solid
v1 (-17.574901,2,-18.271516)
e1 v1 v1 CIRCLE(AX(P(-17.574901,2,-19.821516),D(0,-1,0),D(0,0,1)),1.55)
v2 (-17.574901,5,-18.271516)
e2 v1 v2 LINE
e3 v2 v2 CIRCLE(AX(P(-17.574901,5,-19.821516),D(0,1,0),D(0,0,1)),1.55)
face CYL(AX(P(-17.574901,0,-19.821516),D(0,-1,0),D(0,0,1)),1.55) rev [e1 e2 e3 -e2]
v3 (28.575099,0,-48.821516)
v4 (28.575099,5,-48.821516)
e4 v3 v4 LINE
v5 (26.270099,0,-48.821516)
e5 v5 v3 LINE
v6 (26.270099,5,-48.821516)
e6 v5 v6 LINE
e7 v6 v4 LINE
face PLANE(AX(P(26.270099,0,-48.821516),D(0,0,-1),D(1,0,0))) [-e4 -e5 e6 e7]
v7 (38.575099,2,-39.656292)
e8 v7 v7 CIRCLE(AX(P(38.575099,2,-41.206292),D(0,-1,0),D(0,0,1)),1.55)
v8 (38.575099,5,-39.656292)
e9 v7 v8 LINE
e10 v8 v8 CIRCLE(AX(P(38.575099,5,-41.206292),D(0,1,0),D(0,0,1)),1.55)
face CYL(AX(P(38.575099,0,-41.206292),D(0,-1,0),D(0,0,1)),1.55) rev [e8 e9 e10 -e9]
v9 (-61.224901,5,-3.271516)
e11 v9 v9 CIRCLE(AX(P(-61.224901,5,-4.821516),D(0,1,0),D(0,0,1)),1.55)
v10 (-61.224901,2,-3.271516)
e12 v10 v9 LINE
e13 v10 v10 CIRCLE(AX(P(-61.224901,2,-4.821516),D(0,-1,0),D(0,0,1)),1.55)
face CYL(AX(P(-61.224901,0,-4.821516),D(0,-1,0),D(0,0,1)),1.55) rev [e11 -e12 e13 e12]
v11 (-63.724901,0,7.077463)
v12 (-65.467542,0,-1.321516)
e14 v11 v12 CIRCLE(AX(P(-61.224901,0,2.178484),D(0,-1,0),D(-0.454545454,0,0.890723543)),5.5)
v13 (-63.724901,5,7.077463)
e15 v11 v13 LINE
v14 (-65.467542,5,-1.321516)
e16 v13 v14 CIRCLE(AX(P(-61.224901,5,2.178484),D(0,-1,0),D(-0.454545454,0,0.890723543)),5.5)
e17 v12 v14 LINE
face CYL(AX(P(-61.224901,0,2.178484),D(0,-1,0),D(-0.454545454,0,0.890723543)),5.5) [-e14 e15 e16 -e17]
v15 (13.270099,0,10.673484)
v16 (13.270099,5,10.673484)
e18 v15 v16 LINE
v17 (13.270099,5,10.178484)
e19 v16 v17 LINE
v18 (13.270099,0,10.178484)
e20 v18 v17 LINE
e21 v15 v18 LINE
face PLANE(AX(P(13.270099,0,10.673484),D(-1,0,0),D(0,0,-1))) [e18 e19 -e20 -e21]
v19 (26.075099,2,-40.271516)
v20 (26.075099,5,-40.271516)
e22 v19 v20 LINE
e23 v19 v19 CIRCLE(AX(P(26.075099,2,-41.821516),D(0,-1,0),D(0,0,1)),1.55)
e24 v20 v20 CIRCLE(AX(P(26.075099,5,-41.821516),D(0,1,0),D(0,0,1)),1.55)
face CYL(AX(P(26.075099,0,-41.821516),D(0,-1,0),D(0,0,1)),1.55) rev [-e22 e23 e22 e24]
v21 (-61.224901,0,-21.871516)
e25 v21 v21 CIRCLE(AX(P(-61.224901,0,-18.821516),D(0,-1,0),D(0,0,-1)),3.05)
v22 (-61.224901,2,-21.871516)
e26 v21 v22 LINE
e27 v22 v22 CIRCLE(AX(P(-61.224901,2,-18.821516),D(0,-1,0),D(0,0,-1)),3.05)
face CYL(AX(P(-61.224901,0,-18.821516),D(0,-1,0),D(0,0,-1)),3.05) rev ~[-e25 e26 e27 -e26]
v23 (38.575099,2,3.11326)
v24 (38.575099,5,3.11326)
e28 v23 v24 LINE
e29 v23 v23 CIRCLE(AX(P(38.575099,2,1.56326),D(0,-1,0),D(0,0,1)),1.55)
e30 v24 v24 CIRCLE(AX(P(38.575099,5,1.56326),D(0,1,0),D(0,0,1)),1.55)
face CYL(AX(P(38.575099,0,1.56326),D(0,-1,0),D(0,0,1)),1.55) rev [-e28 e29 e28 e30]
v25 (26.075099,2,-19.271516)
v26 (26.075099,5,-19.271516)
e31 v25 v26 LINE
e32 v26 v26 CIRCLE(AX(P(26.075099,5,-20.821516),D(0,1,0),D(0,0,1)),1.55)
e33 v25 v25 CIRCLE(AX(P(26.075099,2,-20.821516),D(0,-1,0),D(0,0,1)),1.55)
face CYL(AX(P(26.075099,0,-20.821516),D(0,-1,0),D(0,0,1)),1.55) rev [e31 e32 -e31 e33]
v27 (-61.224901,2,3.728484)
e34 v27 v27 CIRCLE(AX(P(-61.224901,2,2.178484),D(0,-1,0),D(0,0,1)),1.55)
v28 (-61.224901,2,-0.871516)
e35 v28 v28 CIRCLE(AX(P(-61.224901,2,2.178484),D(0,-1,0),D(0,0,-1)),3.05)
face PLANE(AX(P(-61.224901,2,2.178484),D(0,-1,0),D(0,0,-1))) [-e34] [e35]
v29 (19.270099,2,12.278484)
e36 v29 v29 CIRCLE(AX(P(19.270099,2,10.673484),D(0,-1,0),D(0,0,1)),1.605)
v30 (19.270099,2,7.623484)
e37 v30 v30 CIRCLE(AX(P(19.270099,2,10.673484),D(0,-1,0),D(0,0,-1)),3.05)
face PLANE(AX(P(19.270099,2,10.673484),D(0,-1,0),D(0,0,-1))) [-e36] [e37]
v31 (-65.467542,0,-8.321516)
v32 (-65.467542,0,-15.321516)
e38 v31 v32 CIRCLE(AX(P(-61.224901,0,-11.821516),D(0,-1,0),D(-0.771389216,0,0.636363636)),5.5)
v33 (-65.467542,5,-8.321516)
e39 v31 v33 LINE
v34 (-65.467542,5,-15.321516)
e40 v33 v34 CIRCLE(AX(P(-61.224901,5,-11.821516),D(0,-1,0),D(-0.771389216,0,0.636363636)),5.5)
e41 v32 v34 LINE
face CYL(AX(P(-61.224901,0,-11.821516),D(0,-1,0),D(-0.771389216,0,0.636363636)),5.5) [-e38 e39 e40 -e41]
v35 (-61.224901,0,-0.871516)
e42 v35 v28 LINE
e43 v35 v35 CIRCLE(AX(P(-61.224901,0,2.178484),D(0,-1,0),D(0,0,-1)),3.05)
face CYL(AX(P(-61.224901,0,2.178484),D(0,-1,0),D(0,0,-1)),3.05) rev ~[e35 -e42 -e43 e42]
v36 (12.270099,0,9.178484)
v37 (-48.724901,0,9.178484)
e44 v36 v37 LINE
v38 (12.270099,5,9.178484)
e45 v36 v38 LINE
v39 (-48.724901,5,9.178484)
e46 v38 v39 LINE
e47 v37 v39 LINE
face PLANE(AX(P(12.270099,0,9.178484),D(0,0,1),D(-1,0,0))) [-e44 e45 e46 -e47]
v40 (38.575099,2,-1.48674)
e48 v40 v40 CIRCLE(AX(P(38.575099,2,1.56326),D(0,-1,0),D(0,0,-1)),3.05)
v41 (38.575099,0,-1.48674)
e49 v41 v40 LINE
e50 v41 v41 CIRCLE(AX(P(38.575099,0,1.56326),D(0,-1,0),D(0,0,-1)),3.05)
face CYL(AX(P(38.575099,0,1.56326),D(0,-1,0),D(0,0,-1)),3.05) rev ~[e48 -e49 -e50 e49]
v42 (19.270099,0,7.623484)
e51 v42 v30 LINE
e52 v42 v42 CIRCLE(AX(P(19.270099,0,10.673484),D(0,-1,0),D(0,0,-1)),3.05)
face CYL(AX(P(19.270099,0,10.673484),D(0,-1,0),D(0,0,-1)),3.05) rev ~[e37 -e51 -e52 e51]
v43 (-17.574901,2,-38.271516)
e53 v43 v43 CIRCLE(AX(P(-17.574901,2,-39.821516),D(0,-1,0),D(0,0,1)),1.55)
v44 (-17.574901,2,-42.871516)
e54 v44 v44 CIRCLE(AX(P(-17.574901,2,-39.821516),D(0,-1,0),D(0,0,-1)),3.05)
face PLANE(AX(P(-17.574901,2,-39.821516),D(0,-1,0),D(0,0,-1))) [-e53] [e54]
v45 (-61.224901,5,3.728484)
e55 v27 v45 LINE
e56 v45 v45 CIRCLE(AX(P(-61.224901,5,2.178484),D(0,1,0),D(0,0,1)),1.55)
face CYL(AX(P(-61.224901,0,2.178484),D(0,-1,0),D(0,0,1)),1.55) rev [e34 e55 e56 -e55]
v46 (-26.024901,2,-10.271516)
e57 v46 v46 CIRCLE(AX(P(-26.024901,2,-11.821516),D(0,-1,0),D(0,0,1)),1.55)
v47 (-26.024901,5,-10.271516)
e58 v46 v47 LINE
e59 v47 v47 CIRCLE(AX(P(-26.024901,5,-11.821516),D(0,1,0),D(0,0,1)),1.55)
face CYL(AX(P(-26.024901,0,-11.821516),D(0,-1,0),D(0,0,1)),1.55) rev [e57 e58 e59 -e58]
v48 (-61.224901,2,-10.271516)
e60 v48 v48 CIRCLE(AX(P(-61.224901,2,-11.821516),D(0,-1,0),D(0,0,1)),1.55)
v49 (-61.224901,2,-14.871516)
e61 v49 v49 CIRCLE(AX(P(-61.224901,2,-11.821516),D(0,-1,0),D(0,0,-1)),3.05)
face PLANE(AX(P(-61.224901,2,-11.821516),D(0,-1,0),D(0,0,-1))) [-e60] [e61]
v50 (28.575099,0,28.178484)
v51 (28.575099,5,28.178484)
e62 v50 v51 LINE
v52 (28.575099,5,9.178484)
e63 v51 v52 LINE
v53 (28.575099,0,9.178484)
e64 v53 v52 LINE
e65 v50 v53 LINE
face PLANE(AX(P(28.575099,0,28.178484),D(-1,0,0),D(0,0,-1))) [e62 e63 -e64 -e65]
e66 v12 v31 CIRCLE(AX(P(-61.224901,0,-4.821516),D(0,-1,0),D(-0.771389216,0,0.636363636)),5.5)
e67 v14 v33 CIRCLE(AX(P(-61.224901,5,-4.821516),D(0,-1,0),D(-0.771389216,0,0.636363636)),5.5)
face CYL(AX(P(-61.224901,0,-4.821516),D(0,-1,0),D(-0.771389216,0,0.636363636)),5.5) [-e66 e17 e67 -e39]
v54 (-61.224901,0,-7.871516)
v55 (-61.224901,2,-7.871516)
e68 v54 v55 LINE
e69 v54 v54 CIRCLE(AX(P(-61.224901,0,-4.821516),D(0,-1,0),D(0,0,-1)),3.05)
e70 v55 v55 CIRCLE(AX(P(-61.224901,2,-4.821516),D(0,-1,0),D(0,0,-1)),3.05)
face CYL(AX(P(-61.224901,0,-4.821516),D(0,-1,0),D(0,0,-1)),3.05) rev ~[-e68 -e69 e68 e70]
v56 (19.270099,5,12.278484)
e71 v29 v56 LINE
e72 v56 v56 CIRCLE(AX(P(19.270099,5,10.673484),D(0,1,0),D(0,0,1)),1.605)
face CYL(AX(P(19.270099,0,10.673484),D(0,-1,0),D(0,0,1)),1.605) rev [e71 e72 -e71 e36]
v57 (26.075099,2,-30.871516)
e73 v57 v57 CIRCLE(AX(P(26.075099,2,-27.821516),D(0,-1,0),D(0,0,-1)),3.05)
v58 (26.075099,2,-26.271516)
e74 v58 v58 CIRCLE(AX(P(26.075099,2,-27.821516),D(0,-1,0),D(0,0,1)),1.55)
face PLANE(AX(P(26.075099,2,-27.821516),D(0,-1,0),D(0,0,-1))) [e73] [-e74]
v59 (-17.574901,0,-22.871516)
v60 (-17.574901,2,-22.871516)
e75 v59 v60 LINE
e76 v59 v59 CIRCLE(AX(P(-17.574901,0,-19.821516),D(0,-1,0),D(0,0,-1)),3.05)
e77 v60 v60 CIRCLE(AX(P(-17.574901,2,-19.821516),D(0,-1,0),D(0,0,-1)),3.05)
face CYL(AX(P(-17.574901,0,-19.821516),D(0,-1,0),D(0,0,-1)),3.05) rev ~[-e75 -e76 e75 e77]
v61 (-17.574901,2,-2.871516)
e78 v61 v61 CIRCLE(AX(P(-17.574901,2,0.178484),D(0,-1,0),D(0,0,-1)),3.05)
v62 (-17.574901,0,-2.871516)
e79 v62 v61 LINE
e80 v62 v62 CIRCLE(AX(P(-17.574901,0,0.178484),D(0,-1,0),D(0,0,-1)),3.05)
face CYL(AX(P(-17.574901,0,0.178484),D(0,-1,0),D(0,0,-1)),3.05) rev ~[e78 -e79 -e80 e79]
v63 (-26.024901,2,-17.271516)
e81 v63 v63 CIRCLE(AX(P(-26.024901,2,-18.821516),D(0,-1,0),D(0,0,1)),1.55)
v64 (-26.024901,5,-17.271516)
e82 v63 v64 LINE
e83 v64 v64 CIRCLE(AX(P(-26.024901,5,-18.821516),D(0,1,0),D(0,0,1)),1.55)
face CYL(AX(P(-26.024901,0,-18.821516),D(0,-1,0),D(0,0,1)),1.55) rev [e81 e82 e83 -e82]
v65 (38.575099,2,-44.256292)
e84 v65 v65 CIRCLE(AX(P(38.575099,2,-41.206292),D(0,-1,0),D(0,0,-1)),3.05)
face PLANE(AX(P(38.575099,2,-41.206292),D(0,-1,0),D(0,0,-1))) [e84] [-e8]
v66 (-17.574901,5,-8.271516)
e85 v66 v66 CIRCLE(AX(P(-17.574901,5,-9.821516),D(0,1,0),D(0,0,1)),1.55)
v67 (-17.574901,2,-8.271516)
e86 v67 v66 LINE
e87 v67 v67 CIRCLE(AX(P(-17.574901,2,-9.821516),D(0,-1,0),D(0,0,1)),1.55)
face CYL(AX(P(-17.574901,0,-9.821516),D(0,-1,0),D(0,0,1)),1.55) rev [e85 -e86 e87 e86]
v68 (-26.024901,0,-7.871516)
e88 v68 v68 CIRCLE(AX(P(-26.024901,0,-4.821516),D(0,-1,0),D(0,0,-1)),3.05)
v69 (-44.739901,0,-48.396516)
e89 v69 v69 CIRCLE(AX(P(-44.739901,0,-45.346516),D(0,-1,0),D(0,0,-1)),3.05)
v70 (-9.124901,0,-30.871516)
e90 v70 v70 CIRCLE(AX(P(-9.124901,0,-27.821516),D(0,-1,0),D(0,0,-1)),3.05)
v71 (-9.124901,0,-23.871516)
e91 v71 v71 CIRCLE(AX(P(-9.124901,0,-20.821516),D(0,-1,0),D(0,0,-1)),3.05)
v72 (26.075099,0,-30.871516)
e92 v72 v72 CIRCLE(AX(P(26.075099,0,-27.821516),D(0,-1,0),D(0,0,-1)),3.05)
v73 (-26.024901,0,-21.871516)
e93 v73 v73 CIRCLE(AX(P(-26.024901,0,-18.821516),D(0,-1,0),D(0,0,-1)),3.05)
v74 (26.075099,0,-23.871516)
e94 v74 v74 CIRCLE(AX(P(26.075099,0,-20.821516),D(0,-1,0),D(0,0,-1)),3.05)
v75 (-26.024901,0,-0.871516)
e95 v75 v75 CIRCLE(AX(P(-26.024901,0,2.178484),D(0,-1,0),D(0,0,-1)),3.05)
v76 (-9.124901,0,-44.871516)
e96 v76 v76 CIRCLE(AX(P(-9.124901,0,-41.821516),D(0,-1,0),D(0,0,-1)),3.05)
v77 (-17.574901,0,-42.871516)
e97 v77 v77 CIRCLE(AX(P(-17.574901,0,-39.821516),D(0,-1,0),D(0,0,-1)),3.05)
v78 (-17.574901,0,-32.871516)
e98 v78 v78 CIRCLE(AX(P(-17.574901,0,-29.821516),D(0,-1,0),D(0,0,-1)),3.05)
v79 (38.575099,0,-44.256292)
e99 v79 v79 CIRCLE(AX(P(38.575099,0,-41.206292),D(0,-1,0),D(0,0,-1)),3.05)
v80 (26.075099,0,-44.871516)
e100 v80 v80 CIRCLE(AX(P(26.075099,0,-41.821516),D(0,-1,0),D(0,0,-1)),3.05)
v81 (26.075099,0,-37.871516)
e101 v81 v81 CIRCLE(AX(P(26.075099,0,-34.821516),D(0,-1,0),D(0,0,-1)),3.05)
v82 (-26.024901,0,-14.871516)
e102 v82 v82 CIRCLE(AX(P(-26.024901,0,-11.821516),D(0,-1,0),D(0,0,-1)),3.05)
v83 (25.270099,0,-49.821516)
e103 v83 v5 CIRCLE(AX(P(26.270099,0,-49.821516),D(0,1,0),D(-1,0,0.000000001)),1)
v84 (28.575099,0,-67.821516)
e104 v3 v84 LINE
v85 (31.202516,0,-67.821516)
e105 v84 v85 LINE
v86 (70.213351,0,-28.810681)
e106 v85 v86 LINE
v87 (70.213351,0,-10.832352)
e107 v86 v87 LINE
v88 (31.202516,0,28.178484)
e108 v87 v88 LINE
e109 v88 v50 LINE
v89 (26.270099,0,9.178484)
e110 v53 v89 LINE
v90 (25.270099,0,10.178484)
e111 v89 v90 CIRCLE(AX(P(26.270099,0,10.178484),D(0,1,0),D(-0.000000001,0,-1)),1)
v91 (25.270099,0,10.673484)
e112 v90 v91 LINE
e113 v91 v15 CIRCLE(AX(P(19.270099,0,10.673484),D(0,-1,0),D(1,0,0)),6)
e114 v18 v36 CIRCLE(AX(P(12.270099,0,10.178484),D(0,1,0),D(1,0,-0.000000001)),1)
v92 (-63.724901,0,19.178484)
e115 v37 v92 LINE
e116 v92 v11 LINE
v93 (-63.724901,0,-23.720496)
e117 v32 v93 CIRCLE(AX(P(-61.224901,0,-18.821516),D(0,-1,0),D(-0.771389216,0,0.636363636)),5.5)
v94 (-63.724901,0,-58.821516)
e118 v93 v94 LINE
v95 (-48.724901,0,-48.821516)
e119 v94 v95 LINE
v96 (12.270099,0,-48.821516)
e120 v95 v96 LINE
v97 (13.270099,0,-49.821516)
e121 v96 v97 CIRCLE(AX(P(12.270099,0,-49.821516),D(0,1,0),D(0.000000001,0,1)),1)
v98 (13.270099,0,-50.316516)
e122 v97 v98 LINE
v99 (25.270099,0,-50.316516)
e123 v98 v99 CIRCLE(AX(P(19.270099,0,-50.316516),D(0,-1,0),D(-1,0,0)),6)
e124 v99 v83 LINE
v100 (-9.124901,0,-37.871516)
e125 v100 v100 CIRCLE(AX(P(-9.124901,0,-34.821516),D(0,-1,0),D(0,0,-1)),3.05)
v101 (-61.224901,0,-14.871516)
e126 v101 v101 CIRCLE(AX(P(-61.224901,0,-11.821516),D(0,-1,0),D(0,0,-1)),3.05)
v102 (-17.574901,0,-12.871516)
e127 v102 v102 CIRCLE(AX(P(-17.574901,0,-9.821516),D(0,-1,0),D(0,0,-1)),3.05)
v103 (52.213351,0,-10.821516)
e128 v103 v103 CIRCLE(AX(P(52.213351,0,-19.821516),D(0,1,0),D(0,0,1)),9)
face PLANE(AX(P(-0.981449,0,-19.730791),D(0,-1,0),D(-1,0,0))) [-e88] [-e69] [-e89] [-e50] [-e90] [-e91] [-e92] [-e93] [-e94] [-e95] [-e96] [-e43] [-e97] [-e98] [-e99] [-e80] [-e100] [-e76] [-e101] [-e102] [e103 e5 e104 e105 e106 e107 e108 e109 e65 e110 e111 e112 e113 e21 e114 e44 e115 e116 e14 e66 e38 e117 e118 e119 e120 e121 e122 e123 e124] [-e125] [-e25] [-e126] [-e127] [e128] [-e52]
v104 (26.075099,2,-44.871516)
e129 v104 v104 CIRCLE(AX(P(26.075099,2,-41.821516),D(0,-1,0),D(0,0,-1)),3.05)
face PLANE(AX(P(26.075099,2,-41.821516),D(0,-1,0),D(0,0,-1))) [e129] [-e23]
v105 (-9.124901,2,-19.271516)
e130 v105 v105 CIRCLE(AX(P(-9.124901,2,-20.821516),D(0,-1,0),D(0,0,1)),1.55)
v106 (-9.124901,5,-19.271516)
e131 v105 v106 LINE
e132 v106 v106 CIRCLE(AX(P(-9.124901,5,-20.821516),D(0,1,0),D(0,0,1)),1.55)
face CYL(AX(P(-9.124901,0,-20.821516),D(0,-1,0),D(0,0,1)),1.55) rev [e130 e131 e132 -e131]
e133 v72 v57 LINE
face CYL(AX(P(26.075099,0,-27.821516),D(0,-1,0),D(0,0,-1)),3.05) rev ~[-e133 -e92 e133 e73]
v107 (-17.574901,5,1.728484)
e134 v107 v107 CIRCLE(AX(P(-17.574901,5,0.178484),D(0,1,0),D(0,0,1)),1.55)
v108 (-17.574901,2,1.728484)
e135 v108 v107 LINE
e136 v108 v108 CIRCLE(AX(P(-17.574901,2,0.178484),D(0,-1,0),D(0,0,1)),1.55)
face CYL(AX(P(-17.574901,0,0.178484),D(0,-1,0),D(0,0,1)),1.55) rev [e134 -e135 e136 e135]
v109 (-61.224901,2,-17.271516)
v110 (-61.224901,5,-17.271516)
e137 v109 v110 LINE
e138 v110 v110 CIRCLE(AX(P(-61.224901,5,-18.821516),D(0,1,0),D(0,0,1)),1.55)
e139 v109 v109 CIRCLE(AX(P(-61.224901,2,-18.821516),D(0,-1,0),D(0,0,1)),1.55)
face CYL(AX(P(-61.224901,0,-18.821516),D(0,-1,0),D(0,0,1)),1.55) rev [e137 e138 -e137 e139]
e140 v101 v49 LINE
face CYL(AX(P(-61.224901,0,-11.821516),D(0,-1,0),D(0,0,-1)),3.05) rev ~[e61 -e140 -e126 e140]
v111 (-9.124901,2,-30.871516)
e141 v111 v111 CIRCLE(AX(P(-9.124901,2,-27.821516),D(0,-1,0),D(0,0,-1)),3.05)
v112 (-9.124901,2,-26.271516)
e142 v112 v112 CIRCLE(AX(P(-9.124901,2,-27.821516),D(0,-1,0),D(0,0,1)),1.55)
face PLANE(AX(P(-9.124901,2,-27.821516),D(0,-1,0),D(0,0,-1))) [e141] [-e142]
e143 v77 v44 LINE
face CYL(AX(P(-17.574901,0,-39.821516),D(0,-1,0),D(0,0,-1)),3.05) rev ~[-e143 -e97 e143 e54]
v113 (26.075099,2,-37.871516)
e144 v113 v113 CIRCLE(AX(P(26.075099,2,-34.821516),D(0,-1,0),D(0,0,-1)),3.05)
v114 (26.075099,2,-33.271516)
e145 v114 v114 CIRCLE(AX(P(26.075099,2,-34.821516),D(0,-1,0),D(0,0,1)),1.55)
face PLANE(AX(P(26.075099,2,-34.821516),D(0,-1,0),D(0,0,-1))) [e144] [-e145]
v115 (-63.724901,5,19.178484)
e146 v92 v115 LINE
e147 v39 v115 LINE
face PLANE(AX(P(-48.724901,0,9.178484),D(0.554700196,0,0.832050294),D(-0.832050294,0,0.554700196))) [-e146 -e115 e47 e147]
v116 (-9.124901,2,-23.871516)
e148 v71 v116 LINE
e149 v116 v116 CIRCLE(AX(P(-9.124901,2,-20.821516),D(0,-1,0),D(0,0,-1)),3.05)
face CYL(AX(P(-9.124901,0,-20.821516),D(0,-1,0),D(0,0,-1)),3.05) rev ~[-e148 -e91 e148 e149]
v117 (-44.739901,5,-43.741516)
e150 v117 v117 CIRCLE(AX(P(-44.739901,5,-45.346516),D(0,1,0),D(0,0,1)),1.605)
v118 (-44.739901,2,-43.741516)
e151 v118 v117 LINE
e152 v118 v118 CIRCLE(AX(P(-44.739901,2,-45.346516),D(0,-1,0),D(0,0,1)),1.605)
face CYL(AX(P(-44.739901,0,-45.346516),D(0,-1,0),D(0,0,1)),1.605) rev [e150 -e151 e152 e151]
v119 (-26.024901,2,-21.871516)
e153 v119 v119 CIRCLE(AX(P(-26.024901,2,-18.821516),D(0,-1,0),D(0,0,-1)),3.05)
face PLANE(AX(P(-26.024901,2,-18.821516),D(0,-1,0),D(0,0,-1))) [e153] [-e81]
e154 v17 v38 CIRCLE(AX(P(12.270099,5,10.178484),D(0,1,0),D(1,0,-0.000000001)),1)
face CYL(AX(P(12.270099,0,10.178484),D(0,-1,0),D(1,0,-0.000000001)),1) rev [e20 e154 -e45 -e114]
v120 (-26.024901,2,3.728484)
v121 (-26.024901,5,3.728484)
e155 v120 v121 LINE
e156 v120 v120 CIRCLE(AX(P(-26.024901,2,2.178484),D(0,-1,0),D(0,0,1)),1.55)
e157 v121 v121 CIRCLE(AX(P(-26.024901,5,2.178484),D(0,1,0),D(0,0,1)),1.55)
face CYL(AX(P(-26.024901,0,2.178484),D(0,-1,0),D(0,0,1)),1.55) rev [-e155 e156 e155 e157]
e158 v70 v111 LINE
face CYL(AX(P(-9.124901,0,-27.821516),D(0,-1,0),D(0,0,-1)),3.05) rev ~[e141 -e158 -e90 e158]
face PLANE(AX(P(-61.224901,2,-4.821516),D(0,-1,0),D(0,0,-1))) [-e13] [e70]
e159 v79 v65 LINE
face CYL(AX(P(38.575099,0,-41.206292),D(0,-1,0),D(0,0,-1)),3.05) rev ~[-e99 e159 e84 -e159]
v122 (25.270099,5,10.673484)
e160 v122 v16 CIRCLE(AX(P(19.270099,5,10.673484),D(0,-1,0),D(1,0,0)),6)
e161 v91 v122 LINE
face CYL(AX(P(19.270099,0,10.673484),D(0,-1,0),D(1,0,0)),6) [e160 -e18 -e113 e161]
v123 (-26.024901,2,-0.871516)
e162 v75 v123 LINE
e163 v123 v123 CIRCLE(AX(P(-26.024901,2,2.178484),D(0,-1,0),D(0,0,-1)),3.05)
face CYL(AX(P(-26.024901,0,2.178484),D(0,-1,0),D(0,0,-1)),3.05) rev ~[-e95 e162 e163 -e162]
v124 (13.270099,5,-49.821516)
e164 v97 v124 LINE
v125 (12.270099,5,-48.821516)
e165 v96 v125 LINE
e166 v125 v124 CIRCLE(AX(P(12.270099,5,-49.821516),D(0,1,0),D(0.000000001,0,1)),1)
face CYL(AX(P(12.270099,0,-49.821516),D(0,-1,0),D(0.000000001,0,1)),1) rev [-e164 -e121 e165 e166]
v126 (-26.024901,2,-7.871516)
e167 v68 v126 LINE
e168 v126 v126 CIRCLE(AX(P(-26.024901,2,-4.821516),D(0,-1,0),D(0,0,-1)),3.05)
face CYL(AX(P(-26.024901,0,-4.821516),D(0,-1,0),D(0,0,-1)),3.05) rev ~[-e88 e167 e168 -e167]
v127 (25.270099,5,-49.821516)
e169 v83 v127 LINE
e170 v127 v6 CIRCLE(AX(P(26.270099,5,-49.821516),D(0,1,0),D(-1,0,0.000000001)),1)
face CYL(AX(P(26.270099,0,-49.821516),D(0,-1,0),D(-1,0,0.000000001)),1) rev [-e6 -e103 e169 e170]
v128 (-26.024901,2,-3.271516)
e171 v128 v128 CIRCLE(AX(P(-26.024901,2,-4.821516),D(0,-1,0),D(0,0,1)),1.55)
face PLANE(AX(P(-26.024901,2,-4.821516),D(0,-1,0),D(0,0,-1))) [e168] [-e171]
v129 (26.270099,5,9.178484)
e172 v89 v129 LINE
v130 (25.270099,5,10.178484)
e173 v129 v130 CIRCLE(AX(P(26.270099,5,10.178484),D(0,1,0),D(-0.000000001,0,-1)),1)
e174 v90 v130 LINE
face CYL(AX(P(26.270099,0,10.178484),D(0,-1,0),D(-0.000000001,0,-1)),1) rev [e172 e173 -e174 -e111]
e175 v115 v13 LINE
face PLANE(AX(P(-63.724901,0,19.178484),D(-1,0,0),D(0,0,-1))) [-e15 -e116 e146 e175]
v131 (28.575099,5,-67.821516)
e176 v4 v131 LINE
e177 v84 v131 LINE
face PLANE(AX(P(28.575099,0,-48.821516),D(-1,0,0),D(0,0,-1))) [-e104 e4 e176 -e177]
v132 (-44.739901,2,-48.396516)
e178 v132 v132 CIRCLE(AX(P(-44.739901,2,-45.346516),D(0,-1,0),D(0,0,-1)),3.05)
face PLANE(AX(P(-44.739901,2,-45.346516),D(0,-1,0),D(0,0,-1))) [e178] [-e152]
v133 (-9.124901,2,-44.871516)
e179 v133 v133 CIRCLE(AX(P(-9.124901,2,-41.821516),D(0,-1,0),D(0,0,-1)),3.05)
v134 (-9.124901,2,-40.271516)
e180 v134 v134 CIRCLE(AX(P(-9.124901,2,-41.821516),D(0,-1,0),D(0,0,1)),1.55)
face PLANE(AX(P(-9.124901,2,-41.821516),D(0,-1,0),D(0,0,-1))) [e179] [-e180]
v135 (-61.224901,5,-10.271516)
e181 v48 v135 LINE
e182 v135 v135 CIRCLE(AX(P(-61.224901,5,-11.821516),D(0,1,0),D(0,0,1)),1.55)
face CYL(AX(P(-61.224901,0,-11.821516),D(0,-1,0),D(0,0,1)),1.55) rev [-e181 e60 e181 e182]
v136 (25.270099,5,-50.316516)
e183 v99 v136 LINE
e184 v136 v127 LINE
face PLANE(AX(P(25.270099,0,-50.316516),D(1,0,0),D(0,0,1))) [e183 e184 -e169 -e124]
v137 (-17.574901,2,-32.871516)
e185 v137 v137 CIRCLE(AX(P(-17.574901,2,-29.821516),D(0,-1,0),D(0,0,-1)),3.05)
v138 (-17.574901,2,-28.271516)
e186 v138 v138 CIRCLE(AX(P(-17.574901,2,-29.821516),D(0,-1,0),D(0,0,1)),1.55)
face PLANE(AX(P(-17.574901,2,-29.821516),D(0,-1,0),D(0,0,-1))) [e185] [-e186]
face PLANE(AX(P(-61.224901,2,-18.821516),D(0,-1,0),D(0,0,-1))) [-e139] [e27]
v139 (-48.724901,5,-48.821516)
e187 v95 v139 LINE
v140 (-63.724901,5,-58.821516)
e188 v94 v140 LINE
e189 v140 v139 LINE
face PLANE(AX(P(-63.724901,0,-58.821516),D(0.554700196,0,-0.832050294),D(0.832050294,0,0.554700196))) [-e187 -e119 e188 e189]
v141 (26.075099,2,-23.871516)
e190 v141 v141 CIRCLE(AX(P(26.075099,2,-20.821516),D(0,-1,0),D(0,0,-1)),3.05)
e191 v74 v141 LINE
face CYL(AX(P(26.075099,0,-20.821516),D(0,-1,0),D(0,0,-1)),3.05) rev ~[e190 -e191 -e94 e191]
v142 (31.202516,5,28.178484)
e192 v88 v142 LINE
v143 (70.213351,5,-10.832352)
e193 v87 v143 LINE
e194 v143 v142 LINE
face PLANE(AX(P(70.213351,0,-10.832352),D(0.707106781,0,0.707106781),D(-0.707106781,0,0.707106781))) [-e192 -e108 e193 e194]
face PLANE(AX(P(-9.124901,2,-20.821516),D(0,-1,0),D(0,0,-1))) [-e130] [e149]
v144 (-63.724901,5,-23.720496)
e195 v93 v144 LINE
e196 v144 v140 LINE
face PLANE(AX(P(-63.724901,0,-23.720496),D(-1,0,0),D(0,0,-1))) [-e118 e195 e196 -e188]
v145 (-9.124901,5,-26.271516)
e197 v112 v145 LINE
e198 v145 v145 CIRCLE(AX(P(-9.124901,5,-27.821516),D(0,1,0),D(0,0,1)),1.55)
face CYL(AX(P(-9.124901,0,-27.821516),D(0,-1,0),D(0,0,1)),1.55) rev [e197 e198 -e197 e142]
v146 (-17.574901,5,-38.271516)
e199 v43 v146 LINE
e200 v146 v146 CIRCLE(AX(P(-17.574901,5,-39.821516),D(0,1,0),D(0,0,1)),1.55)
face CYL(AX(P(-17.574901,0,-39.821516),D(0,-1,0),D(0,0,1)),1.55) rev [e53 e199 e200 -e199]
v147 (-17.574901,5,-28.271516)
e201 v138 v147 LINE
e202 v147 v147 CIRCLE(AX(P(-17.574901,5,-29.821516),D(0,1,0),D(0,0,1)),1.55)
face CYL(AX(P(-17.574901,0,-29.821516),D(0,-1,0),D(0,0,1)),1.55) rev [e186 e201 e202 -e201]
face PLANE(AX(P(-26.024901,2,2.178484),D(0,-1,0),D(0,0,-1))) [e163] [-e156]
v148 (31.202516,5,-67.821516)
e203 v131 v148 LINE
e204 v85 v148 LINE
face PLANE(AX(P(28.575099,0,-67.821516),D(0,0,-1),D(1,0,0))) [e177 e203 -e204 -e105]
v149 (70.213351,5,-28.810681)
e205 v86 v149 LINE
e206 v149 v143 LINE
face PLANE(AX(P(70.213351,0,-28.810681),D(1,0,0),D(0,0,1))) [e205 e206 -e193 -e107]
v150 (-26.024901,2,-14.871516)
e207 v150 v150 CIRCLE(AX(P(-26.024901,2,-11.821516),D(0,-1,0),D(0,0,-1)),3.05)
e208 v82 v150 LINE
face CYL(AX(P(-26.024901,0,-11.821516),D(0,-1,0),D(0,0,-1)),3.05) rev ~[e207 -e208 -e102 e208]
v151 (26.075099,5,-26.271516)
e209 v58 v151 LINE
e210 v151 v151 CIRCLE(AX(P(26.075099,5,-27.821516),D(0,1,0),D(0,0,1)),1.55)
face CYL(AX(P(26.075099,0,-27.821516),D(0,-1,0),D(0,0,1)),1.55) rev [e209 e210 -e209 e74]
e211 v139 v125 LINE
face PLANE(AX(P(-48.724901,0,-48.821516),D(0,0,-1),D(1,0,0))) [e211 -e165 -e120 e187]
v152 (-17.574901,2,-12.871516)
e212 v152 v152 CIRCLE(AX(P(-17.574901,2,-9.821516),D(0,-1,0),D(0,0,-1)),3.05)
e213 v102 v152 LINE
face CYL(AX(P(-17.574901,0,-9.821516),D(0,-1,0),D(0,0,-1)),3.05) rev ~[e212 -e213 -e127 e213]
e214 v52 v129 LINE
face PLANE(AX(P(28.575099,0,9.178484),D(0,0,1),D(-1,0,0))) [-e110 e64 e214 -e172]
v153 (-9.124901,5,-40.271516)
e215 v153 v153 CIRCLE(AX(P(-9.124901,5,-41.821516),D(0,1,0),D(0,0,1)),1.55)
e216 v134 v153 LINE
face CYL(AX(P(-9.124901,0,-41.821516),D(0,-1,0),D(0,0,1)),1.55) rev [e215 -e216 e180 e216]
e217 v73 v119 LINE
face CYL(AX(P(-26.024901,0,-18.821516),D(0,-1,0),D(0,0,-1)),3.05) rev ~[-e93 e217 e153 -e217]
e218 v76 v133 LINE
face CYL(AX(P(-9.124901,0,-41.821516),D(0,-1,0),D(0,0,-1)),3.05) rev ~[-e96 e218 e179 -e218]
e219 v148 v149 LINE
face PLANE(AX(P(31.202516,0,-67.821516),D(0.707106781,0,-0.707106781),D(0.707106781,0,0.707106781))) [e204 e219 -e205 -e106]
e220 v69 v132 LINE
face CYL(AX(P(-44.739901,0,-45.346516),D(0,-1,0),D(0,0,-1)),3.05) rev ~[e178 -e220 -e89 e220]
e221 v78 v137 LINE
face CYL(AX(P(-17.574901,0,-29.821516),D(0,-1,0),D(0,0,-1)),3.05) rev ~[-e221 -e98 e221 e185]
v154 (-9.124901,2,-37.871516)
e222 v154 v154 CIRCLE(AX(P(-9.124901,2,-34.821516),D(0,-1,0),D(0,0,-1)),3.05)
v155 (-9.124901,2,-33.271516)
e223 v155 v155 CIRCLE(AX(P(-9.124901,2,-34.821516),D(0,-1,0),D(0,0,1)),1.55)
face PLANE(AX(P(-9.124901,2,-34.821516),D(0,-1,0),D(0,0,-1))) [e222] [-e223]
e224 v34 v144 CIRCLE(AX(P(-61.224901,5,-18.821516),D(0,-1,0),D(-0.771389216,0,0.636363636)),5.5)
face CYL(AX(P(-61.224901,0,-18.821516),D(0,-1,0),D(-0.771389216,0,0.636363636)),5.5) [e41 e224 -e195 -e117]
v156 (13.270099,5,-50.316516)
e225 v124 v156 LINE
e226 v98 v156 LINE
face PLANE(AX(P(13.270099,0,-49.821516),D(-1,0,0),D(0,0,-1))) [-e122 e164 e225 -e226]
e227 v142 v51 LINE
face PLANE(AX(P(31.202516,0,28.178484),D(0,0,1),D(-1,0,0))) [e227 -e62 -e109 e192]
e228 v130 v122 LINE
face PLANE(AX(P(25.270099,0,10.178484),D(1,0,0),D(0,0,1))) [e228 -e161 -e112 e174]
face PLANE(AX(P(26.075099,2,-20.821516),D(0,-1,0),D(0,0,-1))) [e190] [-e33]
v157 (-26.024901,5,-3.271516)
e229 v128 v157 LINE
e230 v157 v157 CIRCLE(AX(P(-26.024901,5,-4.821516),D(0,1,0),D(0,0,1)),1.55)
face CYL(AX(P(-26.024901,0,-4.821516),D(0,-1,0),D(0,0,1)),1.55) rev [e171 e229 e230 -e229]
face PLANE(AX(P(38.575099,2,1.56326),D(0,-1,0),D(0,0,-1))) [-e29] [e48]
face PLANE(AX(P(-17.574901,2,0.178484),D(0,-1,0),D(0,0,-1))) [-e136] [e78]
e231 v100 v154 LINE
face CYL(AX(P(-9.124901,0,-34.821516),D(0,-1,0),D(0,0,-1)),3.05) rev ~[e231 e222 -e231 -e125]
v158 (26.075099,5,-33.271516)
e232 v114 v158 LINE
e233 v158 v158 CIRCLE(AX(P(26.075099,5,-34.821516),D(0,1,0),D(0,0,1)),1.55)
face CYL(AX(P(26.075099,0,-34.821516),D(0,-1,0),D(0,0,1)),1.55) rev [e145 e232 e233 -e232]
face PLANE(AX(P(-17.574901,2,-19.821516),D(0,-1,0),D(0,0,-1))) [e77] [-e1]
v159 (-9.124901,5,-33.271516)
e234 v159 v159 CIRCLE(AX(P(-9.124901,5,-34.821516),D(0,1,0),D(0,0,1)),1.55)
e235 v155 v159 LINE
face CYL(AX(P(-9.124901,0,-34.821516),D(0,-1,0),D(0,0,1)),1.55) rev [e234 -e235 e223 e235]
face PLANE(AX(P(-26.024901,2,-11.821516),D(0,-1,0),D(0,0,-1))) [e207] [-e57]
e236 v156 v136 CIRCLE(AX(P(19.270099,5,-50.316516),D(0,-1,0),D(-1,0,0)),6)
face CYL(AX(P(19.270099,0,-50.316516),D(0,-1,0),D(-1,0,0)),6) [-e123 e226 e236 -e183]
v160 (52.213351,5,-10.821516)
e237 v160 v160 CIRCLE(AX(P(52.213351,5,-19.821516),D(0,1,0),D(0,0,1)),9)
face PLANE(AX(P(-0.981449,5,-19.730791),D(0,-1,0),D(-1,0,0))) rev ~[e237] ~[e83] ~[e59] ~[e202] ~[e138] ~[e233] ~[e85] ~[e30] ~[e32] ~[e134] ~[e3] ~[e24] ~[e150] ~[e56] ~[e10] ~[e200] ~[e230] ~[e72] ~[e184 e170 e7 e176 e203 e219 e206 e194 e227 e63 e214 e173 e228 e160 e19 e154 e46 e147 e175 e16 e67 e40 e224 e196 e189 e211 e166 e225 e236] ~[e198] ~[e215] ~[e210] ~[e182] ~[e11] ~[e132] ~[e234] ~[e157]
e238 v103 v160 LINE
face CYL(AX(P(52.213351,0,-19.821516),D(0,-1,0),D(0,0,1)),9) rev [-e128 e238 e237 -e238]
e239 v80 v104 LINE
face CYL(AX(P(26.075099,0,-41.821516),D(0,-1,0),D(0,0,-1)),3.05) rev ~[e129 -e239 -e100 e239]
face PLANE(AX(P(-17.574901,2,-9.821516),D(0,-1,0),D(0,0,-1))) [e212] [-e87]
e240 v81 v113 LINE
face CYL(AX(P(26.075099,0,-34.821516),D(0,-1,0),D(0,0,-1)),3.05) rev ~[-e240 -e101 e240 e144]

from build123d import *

# Parameters (mm, degrees)
SKETCH1_R           = 1.55
SKETCH1_R_2         = 9
SKETCH1_R_3         = 1.605
BOSS_EXTRUDE1_DEPTH = 5
SKETCH3_R           = 3.05
CUT_EXTRUDE1_DEPTH  = 2


with BuildPart() as part:
    # Sketch1 → Boss-Extrude1 (new body)
    with BuildSketch(Plane(origin=(0, 0, 0), x_dir=(1, 0, 0), z_dir=(0, 1, 0))):
        with BuildLine():
            Line((28.57509878, 48.821516158), (28.57509878, 67.821516158))
            Line((28.57509878, 67.821516158), (31.202515778, 67.821516158))
            Line((31.202515778, 67.821516158), (70.213351221, 28.810680715))
            Line((70.213351221, 28.810680715), (70.213351221, 10.832351601))
            Line((70.213351221, 10.832351601), (31.202515778, -28.178483842))
            Line((31.202515778, -28.178483842), (28.57509878, -28.178483842))
            Line((28.57509878, -28.178483842), (28.57509878, -9.178483842))
            Line((28.57509878, -9.178483842), (26.27009878, -9.178483842))
            ThreePointArc((26.27009878, -9.178483842), (25.562991999, -9.471377061), (25.27009878, -10.178483842))
            Line((25.27009878, -10.178483842), (25.27009878, -10.673483842))
            ThreePointArc((25.27009878, -10.673483842), (19.27009878, -16.673483842), (13.27009878, -10.673483842))
            Line((13.27009878, -10.673483842), (13.27009878, -10.178483842))
            ThreePointArc((13.27009878, -10.178483842), (12.977205561, -9.471377061), (12.27009878, -9.178483842))
            Line((12.27009878, -9.178483842), (-48.72490122, -9.178483842))
            Line((-48.72490122, -9.178483842), (-63.72490122, -19.178483842))
            Line((-63.72490122, -19.178483842), (-63.72490122, -9.178483842))
            Line((-63.72490122, -9.178483842), (-63.72490122, -7.077463327))
            ThreePointArc((-63.72490122, -7.077463327), (-66.610206686, -3.295840115), (-65.467541907, 1.321516158))
            ThreePointArc((-65.467541907, 1.321516158), (-66.72490122, 4.821516158), (-65.467541907, 8.321516158))
            ThreePointArc((-65.467541907, 8.321516158), (-66.72490122, 11.821516158), (-65.467541907, 15.321516158))
            ThreePointArc((-65.467541907, 15.321516158), (-66.610206686, 19.938872432), (-63.72490122, 23.720495644))
            Line((-63.72490122, 23.720495644), (-63.72490122, 48.821516158))
            Line((-63.72490122, 48.821516158), (-63.72490122, 58.821516158))
            Line((-63.72490122, 58.821516158), (-48.72490122, 48.821516158))
            Line((-48.72490122, 48.821516158), (12.27009878, 48.821516158))
            ThreePointArc((12.27009878, 48.821516158), (12.977205561, 49.114409377), (13.27009878, 49.821516158))
            Line((13.27009878, 49.821516158), (13.27009878, 50.316516158))
            ThreePointArc((13.27009878, 50.316516158), (19.27009878, 56.316516158), (25.27009878, 50.316516158))
            Line((25.27009878, 50.316516158), (25.27009878, 49.821516158))
            ThreePointArc((25.27009878, 49.821516158), (25.562991999, 49.114409377), (26.27009878, 48.821516158))
            Line((26.27009878, 48.821516158), (28.57509878, 48.821516158))
        make_face()
        with Locations(Location((26.07509878, 20.821516158, 0), (0, 0, 270))):
            Circle(SKETCH1_R, mode=Mode.SUBTRACT)
        with Locations(Location((-9.12490122, 20.821516158, 0), (0, 0, 270))):
            Circle(SKETCH1_R, mode=Mode.SUBTRACT)
        with Locations(Location((-9.12490122, 27.821516158, 0), (0, 0, 270))):
            Circle(SKETCH1_R, mode=Mode.SUBTRACT)
        with Locations(Location((26.07509878, 27.821516158, 0), (0, 0, 270))):
            Circle(SKETCH1_R, mode=Mode.SUBTRACT)
        with Locations(Location((-9.12490122, 34.821516158, 0), (0, 0, 270))):
            Circle(SKETCH1_R, mode=Mode.SUBTRACT)
        with Locations(Location((26.07509878, 34.821516158, 0), (0, 0, 270))):
            Circle(SKETCH1_R, mode=Mode.SUBTRACT)
        with Locations(Location((-9.12490122, 41.821516158, 0), (0, 0, 270))):
            Circle(SKETCH1_R, mode=Mode.SUBTRACT)
        with Locations(Location((26.07509878, 41.821516158, 0), (0, 0, 270))):
            Circle(SKETCH1_R, mode=Mode.SUBTRACT)
        with Locations(Location((-26.02490122, -2.178483842, 0), (0, 0, 270))):
            Circle(SKETCH1_R, mode=Mode.SUBTRACT)
        with Locations(Location((-61.22490122, -2.178483842, 0), (0, 0, 270))):
            Circle(SKETCH1_R, mode=Mode.SUBTRACT)
        with Locations(Location((-26.02490122, 4.821516158, 0), (0, 0, 270))):
            Circle(SKETCH1_R, mode=Mode.SUBTRACT)
        with Locations(Location((-61.22490122, 4.821516158, 0), (0, 0, 270))):
            Circle(SKETCH1_R, mode=Mode.SUBTRACT)
        with Locations(Location((-26.02490122, 11.821516158, 0), (0, 0, 270))):
            Circle(SKETCH1_R, mode=Mode.SUBTRACT)
        with Locations(Location((-61.22490122, 11.821516158, 0), (0, 0, 270))):
            Circle(SKETCH1_R, mode=Mode.SUBTRACT)
        with Locations(Location((-26.02490122, 18.821516158, 0), (0, 0, 270))):
            Circle(SKETCH1_R, mode=Mode.SUBTRACT)
        with Locations(Location((-61.22490122, 18.821516158, 0), (0, 0, 270))):
            Circle(SKETCH1_R, mode=Mode.SUBTRACT)
        with Locations(Location((-17.57490122, 39.821516158, 0), (0, 0, 270))):
            Circle(SKETCH1_R, mode=Mode.SUBTRACT)
        with Locations(Location((-17.57490122, 29.821516158, 0), (0, 0, 270))):
            Circle(SKETCH1_R, mode=Mode.SUBTRACT)
        with Locations(Location((-17.57490122, 19.821516158, 0), (0, 0, 270))):
            Circle(SKETCH1_R, mode=Mode.SUBTRACT)
        with Locations(Location((-17.57490122, 9.821516158, 0), (0, 0, 270))):
            Circle(SKETCH1_R, mode=Mode.SUBTRACT)
        with Locations(Location((-17.57490122, -0.178483842, 0), (0, 0, 270))):
            Circle(SKETCH1_R, mode=Mode.SUBTRACT)
        with Locations(Location((52.213351221, 19.821516158, 0), (0, 0, 270))):
            Circle(SKETCH1_R_2, mode=Mode.SUBTRACT)
        with Locations(Location((19.27009878, -10.673483842, 0), (0, 0, 270))):
            Circle(SKETCH1_R_3, mode=Mode.SUBTRACT)
        with Locations(Location((-44.73990122, 45.346516158, 0), (0, 0, 270))):
            Circle(SKETCH1_R_3, mode=Mode.SUBTRACT)
        with Locations(Location((38.57509878, 41.206292469, 0), (0, 0, 270))):
            Circle(SKETCH1_R, mode=Mode.SUBTRACT)
        with Locations(Location((38.57509878, -1.563260153, 0), (0, 0, 270))):
            Circle(SKETCH1_R, mode=Mode.SUBTRACT)
    extrude(amount=BOSS_EXTRUDE1_DEPTH)

    # Sketch3 → Cut-Extrude1 (cut)
    with BuildSketch(Plane(origin=(0, 0, 0), x_dir=(-1, 0, 0), z_dir=(0, -1, 0))):
        with Locations(Location((61.22490122, -2.178483842, 0), (0, 0, 90))):
            Circle(SKETCH3_R)
        with Locations(Location((61.22490122, 4.821516158, 0), (0, 0, 90))):
            Circle(SKETCH3_R)
        with Locations(Location((61.22490122, 11.821516158, 0), (0, 0, 90))):
            Circle(SKETCH3_R)
        with Locations(Location((61.22490122, 18.821516158, 0), (0, 0, 90))):
            Circle(SKETCH3_R)
        with Locations(Location((26.02490122, -2.178483842, 0), (0, 0, 90))):
            Circle(SKETCH3_R)
        with Locations(Location((26.02490122, 4.821516158, 0), (0, 0, 90))):
            Circle(SKETCH3_R)
        with Locations(Location((26.02490122, 11.821516158, 0), (0, 0, 90))):
            Circle(SKETCH3_R)
        with Locations(Location((26.02490122, 18.821516158, 0), (0, 0, 90))):
            Circle(SKETCH3_R)
        with Locations(Location((17.57490122, -0.178483842, 0), (0, 0, 90))):
            Circle(SKETCH3_R)
        with Locations(Location((17.57490122, 9.821516158, 0), (0, 0, 90))):
            Circle(SKETCH3_R)
        with Locations(Location((17.57490122, 19.821516158, 0), (0, 0, 90))):
            Circle(SKETCH3_R)
        with Locations(Location((17.57490122, 29.821516158, 0), (0, 0, 90))):
            Circle(SKETCH3_R)
        with Locations(Location((17.57490122, 39.821516158, 0), (0, 0, 90))):
            Circle(SKETCH3_R)
        with Locations(Location((9.12490122, 20.821516158, 0), (0, 0, 90))):
            Circle(SKETCH3_R)
        with Locations(Location((9.12490122, 27.821516158, 0), (0, 0, 90))):
            Circle(SKETCH3_R)
        with Locations(Location((9.12490122, 34.821516158, 0), (0, 0, 90))):
            Circle(SKETCH3_R)
        with Locations(Location((9.12490122, 41.821516158, 0), (0, 0, 90))):
            Circle(SKETCH3_R)
        with Locations(Location((-26.07509878, 20.821516158, 0), (0, 0, 90))):
            Circle(SKETCH3_R)
        with Locations(Location((-26.07509878, 27.821516158, 0), (0, 0, 90))):
            Circle(SKETCH3_R)
        with Locations(Location((-26.07509878, 34.821516158, 0), (0, 0, 90))):
            Circle(SKETCH3_R)
        with Locations(Location((-26.07509878, 41.821516158, 0), (0, 0, 90))):
            Circle(SKETCH3_R)
        with Locations(Location((-19.27009878, -10.673483842, 0), (0, 0, 90))):
            Circle(SKETCH3_R)
        with Locations(Location((44.73990122, 45.346516158, 0), (0, 0, 90))):
            Circle(SKETCH3_R)
        with Locations(Location((-38.57509878, 41.206292469, 0), (0, 0, 90))):
            Circle(SKETCH3_R)
        with Locations(Location((-38.57509878, -1.563260153, 0), (0, 0, 90))):
            Circle(SKETCH3_R)
    extrude(amount=-CUT_EXTRUDE1_DEPTH, mode=Mode.SUBTRACT)


solid = part.part
